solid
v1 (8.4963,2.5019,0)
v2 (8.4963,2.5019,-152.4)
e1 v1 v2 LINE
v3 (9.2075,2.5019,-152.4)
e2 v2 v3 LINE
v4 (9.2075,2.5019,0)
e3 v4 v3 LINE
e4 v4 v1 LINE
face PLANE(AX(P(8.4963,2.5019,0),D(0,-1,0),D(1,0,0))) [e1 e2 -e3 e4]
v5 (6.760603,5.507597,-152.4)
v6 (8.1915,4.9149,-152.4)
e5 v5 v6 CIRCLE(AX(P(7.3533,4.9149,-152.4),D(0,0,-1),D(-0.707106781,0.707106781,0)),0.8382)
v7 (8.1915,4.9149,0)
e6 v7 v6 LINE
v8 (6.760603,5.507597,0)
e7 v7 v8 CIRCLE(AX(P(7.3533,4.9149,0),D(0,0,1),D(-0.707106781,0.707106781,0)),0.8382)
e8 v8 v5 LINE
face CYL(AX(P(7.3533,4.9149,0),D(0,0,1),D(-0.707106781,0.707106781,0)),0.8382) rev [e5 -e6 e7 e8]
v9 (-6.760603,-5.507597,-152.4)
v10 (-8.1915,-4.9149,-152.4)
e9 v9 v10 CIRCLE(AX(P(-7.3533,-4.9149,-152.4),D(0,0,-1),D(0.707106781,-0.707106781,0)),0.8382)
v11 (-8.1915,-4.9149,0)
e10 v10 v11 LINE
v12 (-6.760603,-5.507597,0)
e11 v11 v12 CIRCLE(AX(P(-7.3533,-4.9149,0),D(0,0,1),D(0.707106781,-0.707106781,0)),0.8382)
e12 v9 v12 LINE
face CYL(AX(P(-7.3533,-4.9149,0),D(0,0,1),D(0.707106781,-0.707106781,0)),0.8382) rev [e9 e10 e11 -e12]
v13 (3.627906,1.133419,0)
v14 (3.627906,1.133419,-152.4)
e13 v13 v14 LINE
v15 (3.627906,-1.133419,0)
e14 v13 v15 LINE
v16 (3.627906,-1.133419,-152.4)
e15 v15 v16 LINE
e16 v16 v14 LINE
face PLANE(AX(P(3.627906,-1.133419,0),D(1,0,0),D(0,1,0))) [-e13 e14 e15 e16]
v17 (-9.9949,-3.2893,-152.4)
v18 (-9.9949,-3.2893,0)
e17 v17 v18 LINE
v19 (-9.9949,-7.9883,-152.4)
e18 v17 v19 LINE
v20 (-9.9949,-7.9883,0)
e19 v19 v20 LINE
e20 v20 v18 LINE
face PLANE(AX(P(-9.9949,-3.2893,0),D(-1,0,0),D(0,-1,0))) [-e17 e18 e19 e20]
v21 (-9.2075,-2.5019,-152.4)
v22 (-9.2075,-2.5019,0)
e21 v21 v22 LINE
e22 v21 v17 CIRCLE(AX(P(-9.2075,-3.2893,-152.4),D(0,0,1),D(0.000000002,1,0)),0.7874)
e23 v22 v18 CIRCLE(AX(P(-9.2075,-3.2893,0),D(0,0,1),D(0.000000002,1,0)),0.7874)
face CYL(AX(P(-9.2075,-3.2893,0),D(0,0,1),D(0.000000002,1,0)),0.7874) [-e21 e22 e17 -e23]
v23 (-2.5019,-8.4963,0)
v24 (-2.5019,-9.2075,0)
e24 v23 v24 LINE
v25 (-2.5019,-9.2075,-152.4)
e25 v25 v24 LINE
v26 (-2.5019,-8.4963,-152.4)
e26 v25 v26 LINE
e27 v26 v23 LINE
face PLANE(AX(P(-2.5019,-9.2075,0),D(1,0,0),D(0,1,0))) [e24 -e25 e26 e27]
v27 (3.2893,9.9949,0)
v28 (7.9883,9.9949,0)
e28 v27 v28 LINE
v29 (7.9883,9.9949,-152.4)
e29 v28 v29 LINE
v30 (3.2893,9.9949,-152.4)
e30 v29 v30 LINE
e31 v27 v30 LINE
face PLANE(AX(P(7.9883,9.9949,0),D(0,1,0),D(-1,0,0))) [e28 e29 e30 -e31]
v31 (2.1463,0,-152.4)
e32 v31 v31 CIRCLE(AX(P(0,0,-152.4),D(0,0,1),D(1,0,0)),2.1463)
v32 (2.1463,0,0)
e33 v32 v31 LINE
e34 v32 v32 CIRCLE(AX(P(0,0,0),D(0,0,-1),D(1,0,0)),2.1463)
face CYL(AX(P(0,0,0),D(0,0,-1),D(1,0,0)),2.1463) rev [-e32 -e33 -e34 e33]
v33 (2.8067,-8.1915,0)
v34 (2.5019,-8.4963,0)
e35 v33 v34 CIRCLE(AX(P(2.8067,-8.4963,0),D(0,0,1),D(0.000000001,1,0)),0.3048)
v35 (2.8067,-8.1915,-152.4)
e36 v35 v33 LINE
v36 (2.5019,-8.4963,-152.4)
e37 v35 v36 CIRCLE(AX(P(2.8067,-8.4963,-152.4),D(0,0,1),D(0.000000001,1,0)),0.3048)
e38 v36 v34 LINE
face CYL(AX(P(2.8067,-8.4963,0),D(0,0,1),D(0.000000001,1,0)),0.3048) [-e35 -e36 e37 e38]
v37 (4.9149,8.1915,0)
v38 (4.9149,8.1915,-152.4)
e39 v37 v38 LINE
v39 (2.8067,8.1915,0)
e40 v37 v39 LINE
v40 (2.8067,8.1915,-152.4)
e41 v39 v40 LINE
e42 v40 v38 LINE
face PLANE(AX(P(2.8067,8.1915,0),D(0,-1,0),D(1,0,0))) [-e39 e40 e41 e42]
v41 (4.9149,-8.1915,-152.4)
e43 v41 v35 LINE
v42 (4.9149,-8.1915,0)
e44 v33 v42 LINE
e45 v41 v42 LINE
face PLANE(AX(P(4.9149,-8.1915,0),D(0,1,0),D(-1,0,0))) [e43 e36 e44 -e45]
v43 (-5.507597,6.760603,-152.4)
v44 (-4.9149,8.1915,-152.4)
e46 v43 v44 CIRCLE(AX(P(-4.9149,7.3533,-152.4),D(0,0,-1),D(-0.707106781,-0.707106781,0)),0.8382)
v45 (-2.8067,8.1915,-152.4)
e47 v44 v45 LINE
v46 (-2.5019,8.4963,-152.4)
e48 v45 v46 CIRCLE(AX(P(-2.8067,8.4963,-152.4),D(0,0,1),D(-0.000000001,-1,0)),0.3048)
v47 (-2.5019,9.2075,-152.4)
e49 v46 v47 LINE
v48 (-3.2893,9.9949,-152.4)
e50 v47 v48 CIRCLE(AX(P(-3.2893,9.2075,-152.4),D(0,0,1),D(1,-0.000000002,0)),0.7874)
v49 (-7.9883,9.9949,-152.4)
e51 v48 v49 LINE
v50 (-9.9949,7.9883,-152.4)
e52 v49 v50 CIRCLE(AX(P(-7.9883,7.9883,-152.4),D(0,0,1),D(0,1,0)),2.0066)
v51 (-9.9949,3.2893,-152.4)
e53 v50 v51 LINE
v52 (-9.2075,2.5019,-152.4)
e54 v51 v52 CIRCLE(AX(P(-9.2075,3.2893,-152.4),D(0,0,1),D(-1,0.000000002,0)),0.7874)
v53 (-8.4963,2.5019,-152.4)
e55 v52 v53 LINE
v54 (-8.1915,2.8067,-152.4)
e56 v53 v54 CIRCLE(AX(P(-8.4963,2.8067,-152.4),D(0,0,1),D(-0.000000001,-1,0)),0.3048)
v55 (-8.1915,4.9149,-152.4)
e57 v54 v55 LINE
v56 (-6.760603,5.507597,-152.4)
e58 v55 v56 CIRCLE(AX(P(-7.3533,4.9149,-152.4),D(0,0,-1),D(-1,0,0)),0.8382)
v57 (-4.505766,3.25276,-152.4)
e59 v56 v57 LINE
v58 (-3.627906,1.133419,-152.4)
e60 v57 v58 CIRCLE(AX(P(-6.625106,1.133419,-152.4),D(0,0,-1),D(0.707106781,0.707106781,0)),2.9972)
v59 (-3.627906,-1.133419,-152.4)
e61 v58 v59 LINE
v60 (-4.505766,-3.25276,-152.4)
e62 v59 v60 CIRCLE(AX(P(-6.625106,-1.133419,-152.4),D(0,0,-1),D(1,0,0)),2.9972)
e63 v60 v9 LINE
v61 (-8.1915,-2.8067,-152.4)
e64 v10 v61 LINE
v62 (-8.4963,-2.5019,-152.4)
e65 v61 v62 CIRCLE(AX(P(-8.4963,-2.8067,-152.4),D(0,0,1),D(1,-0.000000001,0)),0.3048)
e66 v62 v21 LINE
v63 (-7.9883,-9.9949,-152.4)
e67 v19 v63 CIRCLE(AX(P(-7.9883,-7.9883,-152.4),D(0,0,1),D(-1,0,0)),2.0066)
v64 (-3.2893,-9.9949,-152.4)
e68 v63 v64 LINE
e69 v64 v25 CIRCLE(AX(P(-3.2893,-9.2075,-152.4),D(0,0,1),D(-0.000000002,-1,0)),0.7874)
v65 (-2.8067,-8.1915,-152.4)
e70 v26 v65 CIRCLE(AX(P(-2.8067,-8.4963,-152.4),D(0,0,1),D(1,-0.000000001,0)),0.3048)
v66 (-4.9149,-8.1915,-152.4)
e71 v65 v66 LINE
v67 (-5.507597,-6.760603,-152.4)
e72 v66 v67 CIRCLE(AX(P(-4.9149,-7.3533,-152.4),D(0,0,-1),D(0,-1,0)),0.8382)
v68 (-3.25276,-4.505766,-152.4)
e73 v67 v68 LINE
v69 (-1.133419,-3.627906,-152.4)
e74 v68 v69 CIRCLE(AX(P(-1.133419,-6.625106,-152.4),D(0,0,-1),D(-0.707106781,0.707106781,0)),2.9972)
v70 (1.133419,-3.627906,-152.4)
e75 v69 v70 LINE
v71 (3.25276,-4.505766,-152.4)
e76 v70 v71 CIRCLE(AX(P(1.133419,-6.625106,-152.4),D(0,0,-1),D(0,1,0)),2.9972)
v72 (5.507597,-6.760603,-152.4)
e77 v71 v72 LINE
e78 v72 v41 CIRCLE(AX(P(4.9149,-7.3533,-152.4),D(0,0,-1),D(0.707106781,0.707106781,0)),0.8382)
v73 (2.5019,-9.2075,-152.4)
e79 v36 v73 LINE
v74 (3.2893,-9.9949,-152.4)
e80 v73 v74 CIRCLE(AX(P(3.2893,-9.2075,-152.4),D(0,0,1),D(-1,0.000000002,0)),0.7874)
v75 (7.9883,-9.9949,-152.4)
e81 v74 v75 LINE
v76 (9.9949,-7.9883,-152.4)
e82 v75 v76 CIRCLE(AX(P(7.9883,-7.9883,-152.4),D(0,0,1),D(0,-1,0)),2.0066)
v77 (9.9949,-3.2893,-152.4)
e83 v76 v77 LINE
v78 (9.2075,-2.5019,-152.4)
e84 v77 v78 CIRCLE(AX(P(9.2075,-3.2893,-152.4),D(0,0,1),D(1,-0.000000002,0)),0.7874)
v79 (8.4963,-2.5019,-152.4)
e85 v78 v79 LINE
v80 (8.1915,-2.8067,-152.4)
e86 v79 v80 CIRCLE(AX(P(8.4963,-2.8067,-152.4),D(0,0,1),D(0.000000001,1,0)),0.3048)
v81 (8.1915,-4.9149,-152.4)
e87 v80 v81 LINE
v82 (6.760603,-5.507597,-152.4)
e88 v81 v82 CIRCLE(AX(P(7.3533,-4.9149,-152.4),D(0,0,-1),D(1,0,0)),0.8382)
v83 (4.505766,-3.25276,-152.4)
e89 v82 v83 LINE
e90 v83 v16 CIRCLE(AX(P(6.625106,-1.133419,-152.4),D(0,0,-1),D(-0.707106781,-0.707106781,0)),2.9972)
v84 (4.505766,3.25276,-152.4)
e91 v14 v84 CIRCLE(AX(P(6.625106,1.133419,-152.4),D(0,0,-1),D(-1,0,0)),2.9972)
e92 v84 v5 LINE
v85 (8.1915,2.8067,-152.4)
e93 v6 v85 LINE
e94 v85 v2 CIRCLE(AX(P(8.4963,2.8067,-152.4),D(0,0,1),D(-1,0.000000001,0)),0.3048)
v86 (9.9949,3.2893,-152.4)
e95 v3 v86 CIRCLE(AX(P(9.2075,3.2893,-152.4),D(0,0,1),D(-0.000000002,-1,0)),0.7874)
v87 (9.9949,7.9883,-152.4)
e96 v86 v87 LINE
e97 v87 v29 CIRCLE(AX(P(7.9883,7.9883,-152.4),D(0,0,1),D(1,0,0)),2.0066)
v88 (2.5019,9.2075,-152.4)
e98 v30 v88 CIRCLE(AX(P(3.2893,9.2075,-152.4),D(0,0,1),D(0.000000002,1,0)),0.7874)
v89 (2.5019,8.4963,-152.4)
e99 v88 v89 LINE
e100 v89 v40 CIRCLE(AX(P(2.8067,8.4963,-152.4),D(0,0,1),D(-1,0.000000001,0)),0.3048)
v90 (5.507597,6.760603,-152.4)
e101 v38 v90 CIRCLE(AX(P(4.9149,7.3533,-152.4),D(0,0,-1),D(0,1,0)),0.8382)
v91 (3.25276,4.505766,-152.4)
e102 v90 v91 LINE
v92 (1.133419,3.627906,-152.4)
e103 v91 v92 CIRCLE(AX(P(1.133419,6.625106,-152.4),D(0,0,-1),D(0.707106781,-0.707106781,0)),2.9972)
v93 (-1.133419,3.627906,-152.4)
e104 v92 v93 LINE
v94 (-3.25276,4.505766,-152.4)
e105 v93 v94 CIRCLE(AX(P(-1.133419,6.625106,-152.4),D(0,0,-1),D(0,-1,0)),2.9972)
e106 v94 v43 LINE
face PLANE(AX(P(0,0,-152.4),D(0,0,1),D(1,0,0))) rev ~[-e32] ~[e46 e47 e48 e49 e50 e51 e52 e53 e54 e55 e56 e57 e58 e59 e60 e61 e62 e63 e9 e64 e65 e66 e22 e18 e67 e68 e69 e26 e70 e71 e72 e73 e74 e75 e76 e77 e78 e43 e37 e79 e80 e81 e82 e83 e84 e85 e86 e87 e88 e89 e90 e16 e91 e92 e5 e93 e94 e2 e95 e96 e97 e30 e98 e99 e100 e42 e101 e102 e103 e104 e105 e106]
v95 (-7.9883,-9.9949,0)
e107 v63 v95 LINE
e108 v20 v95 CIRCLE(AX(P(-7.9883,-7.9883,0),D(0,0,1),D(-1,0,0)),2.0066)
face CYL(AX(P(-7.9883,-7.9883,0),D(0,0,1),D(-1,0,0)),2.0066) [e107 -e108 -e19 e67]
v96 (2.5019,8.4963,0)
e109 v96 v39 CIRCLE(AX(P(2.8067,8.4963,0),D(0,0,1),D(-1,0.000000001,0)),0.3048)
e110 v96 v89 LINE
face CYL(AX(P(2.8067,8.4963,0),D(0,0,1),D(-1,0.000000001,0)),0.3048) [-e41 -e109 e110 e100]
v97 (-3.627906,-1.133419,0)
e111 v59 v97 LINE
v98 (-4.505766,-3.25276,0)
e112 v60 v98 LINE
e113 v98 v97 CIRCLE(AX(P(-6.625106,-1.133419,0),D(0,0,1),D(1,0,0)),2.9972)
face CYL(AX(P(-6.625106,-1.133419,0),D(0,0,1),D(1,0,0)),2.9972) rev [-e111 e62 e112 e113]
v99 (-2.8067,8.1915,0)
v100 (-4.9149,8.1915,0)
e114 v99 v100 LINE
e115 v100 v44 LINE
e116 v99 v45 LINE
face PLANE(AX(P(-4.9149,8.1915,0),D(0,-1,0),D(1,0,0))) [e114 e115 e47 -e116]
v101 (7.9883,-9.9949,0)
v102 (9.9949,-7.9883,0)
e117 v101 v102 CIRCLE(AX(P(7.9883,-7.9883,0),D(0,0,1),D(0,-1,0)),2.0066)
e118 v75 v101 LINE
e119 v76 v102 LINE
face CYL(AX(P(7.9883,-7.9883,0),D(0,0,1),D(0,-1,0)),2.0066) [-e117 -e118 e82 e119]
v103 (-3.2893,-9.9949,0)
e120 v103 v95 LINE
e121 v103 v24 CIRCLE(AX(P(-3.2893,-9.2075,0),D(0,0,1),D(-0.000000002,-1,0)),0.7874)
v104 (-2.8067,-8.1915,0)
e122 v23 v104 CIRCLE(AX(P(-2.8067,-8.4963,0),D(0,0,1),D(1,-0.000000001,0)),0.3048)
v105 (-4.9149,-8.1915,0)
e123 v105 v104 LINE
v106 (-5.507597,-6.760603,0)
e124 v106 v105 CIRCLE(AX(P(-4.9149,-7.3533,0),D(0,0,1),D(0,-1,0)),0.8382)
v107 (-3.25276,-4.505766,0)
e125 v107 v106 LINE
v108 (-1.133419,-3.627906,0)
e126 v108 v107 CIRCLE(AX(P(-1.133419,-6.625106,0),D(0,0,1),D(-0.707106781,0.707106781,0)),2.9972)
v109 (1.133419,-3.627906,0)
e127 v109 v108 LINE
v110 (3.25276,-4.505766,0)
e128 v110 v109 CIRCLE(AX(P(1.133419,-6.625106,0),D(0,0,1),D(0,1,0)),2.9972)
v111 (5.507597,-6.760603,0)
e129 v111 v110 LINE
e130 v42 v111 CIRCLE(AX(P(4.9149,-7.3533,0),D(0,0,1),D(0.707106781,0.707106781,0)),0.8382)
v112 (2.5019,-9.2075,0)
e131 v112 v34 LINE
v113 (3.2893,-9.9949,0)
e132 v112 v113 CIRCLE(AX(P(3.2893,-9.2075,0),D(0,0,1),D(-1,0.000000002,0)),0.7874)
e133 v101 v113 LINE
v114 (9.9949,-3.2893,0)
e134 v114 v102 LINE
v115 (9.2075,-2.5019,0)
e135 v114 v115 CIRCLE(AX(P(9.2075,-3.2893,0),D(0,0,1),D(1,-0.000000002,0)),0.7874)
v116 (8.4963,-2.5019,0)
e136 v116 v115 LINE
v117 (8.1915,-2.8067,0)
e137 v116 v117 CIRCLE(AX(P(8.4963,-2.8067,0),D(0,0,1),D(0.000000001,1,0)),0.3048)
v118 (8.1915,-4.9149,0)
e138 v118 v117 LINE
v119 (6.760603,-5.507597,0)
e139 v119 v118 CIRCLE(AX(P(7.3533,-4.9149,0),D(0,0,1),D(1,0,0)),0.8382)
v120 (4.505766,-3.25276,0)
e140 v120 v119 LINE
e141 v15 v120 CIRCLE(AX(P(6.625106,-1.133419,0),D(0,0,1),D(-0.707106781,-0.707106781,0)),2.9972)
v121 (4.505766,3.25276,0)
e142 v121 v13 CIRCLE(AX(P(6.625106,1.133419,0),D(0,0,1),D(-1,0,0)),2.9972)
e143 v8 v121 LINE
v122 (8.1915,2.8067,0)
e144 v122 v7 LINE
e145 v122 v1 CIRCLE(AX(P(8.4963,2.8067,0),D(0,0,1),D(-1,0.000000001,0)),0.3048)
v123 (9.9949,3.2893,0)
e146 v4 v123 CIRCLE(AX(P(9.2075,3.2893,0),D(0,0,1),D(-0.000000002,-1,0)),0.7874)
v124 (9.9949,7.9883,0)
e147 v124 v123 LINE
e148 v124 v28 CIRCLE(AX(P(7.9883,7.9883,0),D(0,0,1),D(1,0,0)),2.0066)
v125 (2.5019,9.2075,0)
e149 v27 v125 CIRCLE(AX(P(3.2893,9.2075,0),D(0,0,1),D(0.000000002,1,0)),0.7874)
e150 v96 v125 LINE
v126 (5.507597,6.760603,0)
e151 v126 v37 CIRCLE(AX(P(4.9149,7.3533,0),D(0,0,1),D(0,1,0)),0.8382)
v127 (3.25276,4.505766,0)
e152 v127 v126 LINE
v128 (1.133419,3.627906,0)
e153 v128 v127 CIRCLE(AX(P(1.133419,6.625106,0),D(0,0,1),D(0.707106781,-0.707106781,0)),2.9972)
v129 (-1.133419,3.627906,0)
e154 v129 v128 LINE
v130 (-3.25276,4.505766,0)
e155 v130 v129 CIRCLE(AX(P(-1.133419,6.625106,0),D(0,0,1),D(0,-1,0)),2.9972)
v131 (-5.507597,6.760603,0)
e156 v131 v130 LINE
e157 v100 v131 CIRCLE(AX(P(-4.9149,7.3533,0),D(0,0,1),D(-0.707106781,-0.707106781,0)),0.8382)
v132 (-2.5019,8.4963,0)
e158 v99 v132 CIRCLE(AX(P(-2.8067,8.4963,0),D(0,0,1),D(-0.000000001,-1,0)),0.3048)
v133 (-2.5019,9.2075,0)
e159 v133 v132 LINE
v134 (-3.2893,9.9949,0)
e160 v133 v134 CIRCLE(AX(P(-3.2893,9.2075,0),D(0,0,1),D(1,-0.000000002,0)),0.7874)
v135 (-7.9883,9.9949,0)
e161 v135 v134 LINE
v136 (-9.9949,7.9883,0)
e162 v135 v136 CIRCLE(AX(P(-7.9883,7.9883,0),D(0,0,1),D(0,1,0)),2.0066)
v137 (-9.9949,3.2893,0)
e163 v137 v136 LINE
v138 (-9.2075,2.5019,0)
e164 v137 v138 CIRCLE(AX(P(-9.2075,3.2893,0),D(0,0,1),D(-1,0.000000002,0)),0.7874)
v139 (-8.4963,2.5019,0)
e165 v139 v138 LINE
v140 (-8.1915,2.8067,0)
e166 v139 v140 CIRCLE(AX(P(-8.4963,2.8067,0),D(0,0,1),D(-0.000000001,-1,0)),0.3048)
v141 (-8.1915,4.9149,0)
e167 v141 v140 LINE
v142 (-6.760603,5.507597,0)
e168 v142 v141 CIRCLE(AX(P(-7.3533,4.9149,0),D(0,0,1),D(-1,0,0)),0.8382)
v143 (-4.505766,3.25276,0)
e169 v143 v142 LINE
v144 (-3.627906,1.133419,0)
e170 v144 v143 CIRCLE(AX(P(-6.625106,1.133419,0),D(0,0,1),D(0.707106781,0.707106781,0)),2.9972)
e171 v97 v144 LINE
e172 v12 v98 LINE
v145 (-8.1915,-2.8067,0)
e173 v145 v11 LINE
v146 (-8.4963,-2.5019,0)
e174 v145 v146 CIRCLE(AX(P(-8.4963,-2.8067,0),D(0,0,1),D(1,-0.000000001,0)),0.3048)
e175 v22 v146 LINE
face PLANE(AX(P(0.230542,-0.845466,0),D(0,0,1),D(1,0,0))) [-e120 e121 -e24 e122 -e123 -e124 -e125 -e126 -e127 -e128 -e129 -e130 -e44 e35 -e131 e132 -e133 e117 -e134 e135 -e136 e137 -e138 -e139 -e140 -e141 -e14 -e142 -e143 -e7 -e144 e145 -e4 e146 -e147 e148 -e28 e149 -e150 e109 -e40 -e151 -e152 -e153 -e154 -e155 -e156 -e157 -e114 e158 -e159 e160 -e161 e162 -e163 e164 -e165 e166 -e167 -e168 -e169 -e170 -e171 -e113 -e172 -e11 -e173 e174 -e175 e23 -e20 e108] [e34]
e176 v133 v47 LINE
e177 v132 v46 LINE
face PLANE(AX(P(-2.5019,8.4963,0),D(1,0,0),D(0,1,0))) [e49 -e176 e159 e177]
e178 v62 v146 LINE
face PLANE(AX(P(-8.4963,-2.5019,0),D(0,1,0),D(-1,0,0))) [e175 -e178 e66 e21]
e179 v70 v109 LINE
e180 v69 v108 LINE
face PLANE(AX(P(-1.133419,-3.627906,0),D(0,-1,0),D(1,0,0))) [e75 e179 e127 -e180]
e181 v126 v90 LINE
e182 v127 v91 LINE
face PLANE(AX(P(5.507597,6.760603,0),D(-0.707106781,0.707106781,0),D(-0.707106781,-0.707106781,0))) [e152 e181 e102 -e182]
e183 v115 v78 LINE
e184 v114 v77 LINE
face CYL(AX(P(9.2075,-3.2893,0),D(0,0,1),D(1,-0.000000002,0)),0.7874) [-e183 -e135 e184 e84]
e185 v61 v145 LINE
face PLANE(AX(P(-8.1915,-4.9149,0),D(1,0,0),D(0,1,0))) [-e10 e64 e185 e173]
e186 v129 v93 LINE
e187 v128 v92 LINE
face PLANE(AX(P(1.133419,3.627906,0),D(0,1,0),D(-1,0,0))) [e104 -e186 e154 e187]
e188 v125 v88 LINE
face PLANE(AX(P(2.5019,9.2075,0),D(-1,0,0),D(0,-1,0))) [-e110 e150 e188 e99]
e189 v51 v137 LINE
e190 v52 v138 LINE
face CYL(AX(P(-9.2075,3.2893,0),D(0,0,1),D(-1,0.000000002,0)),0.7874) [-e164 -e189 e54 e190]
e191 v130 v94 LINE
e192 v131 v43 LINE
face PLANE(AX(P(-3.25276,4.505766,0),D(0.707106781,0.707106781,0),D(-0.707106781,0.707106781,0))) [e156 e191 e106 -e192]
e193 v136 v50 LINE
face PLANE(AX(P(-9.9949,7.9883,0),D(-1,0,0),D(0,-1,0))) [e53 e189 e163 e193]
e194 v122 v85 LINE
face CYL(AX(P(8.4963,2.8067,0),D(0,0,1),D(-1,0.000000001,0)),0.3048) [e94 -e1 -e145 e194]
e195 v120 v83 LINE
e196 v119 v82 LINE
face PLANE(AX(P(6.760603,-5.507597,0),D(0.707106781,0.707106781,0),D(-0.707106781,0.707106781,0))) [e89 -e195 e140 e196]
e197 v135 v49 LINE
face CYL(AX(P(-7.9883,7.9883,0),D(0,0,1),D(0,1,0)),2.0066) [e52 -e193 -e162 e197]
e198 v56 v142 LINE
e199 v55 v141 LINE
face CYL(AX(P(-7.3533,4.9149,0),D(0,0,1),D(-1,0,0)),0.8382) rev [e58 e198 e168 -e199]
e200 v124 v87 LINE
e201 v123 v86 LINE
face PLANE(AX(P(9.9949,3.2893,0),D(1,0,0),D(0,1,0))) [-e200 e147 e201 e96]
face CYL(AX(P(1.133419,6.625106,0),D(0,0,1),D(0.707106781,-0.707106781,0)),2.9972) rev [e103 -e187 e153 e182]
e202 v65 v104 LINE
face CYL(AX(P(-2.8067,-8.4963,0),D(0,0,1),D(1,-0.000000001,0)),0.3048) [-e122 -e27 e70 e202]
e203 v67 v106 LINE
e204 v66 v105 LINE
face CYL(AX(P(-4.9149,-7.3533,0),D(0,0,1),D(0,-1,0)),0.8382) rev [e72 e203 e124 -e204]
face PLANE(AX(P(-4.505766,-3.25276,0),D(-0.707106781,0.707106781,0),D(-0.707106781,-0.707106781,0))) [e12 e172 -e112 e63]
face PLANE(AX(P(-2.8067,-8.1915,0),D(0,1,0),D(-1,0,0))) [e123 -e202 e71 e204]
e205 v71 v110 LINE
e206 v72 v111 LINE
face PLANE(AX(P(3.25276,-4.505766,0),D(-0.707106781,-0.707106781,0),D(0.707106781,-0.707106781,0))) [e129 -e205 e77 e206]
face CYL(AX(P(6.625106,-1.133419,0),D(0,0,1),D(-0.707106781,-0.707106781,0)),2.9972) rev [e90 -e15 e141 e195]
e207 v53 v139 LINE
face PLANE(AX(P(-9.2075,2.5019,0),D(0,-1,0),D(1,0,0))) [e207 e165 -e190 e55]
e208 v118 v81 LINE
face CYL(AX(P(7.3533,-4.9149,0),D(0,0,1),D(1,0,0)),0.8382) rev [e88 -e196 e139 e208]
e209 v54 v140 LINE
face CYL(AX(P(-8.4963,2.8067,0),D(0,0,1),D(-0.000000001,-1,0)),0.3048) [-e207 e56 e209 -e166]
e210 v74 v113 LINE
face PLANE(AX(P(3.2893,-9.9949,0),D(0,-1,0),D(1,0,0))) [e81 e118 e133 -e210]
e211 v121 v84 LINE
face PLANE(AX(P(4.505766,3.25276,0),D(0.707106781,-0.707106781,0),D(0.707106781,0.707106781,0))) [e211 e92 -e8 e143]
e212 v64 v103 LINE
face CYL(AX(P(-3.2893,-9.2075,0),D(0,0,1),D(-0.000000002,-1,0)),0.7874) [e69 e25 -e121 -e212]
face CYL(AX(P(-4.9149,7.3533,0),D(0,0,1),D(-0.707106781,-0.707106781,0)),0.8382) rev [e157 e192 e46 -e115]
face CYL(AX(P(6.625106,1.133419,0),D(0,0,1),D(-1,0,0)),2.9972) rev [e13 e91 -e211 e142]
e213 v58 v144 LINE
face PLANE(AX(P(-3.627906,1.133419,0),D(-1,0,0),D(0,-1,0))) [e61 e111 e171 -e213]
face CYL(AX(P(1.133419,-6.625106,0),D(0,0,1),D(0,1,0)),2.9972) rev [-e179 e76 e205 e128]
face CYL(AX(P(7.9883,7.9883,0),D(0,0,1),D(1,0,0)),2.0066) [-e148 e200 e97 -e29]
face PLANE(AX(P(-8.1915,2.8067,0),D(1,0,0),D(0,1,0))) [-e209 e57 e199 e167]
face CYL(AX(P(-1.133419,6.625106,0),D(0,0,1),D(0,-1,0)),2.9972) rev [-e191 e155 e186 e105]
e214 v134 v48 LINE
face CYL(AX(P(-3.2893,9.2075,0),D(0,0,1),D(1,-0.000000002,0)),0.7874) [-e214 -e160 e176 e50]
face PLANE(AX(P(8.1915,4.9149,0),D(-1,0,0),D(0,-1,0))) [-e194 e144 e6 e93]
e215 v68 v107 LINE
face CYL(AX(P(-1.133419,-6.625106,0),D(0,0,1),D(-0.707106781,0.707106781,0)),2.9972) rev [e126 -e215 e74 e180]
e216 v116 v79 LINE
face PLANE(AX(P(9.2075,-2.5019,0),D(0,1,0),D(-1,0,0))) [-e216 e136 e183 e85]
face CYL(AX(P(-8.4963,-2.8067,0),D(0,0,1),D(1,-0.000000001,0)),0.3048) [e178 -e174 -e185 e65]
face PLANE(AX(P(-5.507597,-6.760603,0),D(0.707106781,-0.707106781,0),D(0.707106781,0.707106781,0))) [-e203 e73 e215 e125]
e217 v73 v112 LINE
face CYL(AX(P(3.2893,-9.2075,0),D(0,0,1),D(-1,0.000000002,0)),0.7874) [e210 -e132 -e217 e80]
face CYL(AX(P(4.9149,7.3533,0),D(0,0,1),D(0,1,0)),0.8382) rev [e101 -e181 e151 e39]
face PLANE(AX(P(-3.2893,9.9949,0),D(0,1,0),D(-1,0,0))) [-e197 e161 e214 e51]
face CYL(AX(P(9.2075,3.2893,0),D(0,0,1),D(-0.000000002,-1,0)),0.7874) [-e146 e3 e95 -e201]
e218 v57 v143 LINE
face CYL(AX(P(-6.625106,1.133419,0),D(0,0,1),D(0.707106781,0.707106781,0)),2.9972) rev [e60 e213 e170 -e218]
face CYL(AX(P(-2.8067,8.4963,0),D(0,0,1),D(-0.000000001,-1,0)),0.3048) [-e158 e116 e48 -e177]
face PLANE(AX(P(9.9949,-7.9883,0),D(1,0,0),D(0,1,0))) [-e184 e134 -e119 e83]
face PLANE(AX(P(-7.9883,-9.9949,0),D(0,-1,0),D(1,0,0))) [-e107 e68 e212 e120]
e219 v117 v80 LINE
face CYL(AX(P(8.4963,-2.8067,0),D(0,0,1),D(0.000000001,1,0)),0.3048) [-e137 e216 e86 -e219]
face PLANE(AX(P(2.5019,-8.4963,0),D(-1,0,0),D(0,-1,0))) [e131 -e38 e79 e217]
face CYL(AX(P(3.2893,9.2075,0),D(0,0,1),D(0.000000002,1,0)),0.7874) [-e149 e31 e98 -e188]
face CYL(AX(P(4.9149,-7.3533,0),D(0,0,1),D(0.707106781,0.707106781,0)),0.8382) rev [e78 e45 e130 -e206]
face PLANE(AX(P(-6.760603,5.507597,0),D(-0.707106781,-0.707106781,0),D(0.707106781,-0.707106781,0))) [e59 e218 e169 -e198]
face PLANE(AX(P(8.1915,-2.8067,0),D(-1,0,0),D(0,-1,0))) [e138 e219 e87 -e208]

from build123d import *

# Parameters (mm, degrees)
SKETCH1_R           = 2.1463
BOSS_EXTRUDE1_DEPTH = 152.4
SKETCH2_W           = 30.13801893
SKETCH2_H           = 25.969901185
CUT_EXTRUDE1_DEPTH  = 152.4


with BuildPart() as part:
    # Sketch1 → Boss-Extrude1 (new body, symmetric)
    with BuildSketch(Plane.XY):
        with BuildLine():
            Line((-9.9949, 7.9883), (-9.9949, 3.2893))
            ThreePointArc((-9.9949, 3.2893), (-9.76427588, 2.73252412), (-9.2075, 2.5019))
            Line((-9.2075, 2.5019), (-8.4963, 2.5019))
            ThreePointArc((-8.4963, 2.5019), (-8.280773853, 2.591173853), (-8.1915, 2.8067))
            Line((-8.1915, 2.8067), (-8.1915, 4.9149))
            ThreePointArc((-8.1915, 4.9149), (-7.674065253, 5.689295824), (-6.760603096, 5.507596904))
            Line((-6.760603096, 5.507596904), (-4.505765747, 3.252759555))
            ThreePointArc((-4.505765747, 3.252759555), (-3.856054457, 2.280397894), (-3.627906192, 1.133419111))
            Line((-3.627906192, 1.133419111), (-3.627906192, -1.133419111))
            ThreePointArc((-3.627906192, -1.133419111), (-3.856054457, -2.280397894), (-4.505765747, -3.252759555))
            Line((-4.505765747, -3.252759555), (-6.760603096, -5.507596904))
            ThreePointArc((-6.760603096, -5.507596904), (-7.674065253, -5.689295824), (-8.1915, -4.9149))
            Line((-8.1915, -4.9149), (-8.1915, -2.8067))
            ThreePointArc((-8.1915, -2.8067), (-8.280773853, -2.591173853), (-8.4963, -2.5019))
            Line((-8.4963, -2.5019), (-9.2075, -2.5019))
            ThreePointArc((-9.2075, -2.5019), (-9.76427588, -2.73252412), (-9.9949, -3.2893))
            Line((-9.9949, -3.2893), (-9.9949, -7.9883))
            ThreePointArc((-9.9949, -7.9883), (-9.407180467, -9.407180467), (-7.9883, -9.9949))
            Line((-7.9883, -9.9949), (-3.2893, -9.9949))
            ThreePointArc((-3.2893, -9.9949), (-2.73252412, -9.76427588), (-2.5019, -9.2075))
            Line((-2.5019, -9.2075), (-2.5019, -8.4963))
            ThreePointArc((-2.5019, -8.4963), (-2.591173853, -8.280773853), (-2.8067, -8.1915))
            Line((-2.8067, -8.1915), (-4.9149, -8.1915))
            ThreePointArc((-4.9149, -8.1915), (-5.689295824, -7.674065253), (-5.507596904, -6.760603096))
            Line((-5.507596904, -6.760603096), (-3.252759555, -4.505765747))
            ThreePointArc((-3.252759555, -4.505765747), (-2.280397894, -3.856054457), (-1.133419111, -3.627906192))
            Line((-1.133419111, -3.627906192), (1.133419111, -3.627906192))
            ThreePointArc((1.133419111, -3.627906192), (2.280397894, -3.856054457), (3.252759555, -4.505765747))
            Line((3.252759555, -4.505765747), (5.507596904, -6.760603096))
            ThreePointArc((5.507596904, -6.760603096), (5.689295824, -7.674065253), (4.9149, -8.1915))
            Line((4.9149, -8.1915), (2.8067, -8.1915))
            ThreePointArc((2.8067, -8.1915), (2.591173853, -8.280773853), (2.5019, -8.4963))
            Line((2.5019, -8.4963), (2.5019, -9.2075))
            ThreePointArc((2.5019, -9.2075), (2.73252412, -9.76427588), (3.2893, -9.9949))
            Line((3.2893, -9.9949), (7.9883, -9.9949))
            ThreePointArc((7.9883, -9.9949), (9.407180467, -9.407180467), (9.9949, -7.9883))
            Line((9.9949, -7.9883), (9.9949, -3.2893))
            ThreePointArc((9.9949, -3.2893), (9.76427588, -2.73252412), (9.2075, -2.5019))
            Line((9.2075, -2.5019), (8.4963, -2.5019))
            ThreePointArc((8.4963, -2.5019), (8.280773853, -2.591173853), (8.1915, -2.8067))
            Line((8.1915, -2.8067), (8.1915, -4.9149))
            ThreePointArc((8.1915, -4.9149), (7.674065253, -5.689295824), (6.760603096, -5.507596904))
            Line((6.760603096, -5.507596904), (4.505765747, -3.252759555))
            ThreePointArc((4.505765747, -3.252759555), (3.856054457, -2.280397894), (3.627906192, -1.133419111))
            Line((3.627906192, -1.133419111), (3.627906192, 1.133419111))
            ThreePointArc((3.627906192, 1.133419111), (3.856054457, 2.280397894), (4.505765747, 3.252759555))
            Line((4.505765747, 3.252759555), (6.760603096, 5.507596904))
            ThreePointArc((6.760603096, 5.507596904), (7.674065253, 5.689295824), (8.1915, 4.9149))
            Line((8.1915, 4.9149), (8.1915, 2.8067))
            ThreePointArc((8.1915, 2.8067), (8.280773853, 2.591173853), (8.4963, 2.5019))
            Line((8.4963, 2.5019), (9.2075, 2.5019))
            ThreePointArc((9.2075, 2.5019), (9.76427588, 2.73252412), (9.9949, 3.2893))
            Line((9.9949, 3.2893), (9.9949, 7.9883))
            ThreePointArc((9.9949, 7.9883), (9.407180467, 9.407180467), (7.9883, 9.9949))
            Line((7.9883, 9.9949), (3.2893, 9.9949))
            ThreePointArc((3.2893, 9.9949), (2.73252412, 9.76427588), (2.5019, 9.2075))
            Line((2.5019, 9.2075), (2.5019, 8.4963))
            ThreePointArc((2.5019, 8.4963), (2.591173853, 8.280773853), (2.8067, 8.1915))
            Line((2.8067, 8.1915), (4.9149, 8.1915))
            ThreePointArc((4.9149, 8.1915), (5.689295824, 7.674065253), (5.507596904, 6.760603096))
            Line((5.507596904, 6.760603096), (3.252759555, 4.505765747))
            ThreePointArc((3.252759555, 4.505765747), (2.280397894, 3.856054457), (1.133419111, 3.627906192))
            Line((1.133419111, 3.627906192), (-1.133419111, 3.627906192))
            ThreePointArc((-1.133419111, 3.627906192), (-2.280397894, 3.856054457), (-3.252759555, 4.505765747))
            Line((-3.252759555, 4.505765747), (-5.507596904, 6.760603096))
            ThreePointArc((-5.507596904, 6.760603096), (-5.689295824, 7.674065253), (-4.9149, 8.1915))
            Line((-4.9149, 8.1915), (-2.8067, 8.1915))
            ThreePointArc((-2.8067, 8.1915), (-2.591173853, 8.280773853), (-2.5019, 8.4963))
            Line((-2.5019, 8.4963), (-2.5019, 9.2075))
            ThreePointArc((-2.5019, 9.2075), (-2.73252412, 9.76427588), (-3.2893, 9.9949))
            Line((-3.2893, 9.9949), (-7.9883, 9.9949))
            ThreePointArc((-7.9883, 9.9949), (-9.407180467, 9.407180467), (-9.9949, 7.9883))
        make_face()
        Circle(SKETCH1_R, mode=Mode.SUBTRACT)
    extrude(amount=BOSS_EXTRUDE1_DEPTH, both=True)

    # Sketch2 → Cut-Extrude1 (cut)
    with BuildSketch(Plane.XY.offset(152.4)):
        with Locations((0.230542333, -0.84546573)):
            Rectangle(SKETCH2_W, SKETCH2_H)
    extrude(amount=-CUT_EXTRUDE1_DEPTH, mode=Mode.SUBTRACT)


solid = part.part
